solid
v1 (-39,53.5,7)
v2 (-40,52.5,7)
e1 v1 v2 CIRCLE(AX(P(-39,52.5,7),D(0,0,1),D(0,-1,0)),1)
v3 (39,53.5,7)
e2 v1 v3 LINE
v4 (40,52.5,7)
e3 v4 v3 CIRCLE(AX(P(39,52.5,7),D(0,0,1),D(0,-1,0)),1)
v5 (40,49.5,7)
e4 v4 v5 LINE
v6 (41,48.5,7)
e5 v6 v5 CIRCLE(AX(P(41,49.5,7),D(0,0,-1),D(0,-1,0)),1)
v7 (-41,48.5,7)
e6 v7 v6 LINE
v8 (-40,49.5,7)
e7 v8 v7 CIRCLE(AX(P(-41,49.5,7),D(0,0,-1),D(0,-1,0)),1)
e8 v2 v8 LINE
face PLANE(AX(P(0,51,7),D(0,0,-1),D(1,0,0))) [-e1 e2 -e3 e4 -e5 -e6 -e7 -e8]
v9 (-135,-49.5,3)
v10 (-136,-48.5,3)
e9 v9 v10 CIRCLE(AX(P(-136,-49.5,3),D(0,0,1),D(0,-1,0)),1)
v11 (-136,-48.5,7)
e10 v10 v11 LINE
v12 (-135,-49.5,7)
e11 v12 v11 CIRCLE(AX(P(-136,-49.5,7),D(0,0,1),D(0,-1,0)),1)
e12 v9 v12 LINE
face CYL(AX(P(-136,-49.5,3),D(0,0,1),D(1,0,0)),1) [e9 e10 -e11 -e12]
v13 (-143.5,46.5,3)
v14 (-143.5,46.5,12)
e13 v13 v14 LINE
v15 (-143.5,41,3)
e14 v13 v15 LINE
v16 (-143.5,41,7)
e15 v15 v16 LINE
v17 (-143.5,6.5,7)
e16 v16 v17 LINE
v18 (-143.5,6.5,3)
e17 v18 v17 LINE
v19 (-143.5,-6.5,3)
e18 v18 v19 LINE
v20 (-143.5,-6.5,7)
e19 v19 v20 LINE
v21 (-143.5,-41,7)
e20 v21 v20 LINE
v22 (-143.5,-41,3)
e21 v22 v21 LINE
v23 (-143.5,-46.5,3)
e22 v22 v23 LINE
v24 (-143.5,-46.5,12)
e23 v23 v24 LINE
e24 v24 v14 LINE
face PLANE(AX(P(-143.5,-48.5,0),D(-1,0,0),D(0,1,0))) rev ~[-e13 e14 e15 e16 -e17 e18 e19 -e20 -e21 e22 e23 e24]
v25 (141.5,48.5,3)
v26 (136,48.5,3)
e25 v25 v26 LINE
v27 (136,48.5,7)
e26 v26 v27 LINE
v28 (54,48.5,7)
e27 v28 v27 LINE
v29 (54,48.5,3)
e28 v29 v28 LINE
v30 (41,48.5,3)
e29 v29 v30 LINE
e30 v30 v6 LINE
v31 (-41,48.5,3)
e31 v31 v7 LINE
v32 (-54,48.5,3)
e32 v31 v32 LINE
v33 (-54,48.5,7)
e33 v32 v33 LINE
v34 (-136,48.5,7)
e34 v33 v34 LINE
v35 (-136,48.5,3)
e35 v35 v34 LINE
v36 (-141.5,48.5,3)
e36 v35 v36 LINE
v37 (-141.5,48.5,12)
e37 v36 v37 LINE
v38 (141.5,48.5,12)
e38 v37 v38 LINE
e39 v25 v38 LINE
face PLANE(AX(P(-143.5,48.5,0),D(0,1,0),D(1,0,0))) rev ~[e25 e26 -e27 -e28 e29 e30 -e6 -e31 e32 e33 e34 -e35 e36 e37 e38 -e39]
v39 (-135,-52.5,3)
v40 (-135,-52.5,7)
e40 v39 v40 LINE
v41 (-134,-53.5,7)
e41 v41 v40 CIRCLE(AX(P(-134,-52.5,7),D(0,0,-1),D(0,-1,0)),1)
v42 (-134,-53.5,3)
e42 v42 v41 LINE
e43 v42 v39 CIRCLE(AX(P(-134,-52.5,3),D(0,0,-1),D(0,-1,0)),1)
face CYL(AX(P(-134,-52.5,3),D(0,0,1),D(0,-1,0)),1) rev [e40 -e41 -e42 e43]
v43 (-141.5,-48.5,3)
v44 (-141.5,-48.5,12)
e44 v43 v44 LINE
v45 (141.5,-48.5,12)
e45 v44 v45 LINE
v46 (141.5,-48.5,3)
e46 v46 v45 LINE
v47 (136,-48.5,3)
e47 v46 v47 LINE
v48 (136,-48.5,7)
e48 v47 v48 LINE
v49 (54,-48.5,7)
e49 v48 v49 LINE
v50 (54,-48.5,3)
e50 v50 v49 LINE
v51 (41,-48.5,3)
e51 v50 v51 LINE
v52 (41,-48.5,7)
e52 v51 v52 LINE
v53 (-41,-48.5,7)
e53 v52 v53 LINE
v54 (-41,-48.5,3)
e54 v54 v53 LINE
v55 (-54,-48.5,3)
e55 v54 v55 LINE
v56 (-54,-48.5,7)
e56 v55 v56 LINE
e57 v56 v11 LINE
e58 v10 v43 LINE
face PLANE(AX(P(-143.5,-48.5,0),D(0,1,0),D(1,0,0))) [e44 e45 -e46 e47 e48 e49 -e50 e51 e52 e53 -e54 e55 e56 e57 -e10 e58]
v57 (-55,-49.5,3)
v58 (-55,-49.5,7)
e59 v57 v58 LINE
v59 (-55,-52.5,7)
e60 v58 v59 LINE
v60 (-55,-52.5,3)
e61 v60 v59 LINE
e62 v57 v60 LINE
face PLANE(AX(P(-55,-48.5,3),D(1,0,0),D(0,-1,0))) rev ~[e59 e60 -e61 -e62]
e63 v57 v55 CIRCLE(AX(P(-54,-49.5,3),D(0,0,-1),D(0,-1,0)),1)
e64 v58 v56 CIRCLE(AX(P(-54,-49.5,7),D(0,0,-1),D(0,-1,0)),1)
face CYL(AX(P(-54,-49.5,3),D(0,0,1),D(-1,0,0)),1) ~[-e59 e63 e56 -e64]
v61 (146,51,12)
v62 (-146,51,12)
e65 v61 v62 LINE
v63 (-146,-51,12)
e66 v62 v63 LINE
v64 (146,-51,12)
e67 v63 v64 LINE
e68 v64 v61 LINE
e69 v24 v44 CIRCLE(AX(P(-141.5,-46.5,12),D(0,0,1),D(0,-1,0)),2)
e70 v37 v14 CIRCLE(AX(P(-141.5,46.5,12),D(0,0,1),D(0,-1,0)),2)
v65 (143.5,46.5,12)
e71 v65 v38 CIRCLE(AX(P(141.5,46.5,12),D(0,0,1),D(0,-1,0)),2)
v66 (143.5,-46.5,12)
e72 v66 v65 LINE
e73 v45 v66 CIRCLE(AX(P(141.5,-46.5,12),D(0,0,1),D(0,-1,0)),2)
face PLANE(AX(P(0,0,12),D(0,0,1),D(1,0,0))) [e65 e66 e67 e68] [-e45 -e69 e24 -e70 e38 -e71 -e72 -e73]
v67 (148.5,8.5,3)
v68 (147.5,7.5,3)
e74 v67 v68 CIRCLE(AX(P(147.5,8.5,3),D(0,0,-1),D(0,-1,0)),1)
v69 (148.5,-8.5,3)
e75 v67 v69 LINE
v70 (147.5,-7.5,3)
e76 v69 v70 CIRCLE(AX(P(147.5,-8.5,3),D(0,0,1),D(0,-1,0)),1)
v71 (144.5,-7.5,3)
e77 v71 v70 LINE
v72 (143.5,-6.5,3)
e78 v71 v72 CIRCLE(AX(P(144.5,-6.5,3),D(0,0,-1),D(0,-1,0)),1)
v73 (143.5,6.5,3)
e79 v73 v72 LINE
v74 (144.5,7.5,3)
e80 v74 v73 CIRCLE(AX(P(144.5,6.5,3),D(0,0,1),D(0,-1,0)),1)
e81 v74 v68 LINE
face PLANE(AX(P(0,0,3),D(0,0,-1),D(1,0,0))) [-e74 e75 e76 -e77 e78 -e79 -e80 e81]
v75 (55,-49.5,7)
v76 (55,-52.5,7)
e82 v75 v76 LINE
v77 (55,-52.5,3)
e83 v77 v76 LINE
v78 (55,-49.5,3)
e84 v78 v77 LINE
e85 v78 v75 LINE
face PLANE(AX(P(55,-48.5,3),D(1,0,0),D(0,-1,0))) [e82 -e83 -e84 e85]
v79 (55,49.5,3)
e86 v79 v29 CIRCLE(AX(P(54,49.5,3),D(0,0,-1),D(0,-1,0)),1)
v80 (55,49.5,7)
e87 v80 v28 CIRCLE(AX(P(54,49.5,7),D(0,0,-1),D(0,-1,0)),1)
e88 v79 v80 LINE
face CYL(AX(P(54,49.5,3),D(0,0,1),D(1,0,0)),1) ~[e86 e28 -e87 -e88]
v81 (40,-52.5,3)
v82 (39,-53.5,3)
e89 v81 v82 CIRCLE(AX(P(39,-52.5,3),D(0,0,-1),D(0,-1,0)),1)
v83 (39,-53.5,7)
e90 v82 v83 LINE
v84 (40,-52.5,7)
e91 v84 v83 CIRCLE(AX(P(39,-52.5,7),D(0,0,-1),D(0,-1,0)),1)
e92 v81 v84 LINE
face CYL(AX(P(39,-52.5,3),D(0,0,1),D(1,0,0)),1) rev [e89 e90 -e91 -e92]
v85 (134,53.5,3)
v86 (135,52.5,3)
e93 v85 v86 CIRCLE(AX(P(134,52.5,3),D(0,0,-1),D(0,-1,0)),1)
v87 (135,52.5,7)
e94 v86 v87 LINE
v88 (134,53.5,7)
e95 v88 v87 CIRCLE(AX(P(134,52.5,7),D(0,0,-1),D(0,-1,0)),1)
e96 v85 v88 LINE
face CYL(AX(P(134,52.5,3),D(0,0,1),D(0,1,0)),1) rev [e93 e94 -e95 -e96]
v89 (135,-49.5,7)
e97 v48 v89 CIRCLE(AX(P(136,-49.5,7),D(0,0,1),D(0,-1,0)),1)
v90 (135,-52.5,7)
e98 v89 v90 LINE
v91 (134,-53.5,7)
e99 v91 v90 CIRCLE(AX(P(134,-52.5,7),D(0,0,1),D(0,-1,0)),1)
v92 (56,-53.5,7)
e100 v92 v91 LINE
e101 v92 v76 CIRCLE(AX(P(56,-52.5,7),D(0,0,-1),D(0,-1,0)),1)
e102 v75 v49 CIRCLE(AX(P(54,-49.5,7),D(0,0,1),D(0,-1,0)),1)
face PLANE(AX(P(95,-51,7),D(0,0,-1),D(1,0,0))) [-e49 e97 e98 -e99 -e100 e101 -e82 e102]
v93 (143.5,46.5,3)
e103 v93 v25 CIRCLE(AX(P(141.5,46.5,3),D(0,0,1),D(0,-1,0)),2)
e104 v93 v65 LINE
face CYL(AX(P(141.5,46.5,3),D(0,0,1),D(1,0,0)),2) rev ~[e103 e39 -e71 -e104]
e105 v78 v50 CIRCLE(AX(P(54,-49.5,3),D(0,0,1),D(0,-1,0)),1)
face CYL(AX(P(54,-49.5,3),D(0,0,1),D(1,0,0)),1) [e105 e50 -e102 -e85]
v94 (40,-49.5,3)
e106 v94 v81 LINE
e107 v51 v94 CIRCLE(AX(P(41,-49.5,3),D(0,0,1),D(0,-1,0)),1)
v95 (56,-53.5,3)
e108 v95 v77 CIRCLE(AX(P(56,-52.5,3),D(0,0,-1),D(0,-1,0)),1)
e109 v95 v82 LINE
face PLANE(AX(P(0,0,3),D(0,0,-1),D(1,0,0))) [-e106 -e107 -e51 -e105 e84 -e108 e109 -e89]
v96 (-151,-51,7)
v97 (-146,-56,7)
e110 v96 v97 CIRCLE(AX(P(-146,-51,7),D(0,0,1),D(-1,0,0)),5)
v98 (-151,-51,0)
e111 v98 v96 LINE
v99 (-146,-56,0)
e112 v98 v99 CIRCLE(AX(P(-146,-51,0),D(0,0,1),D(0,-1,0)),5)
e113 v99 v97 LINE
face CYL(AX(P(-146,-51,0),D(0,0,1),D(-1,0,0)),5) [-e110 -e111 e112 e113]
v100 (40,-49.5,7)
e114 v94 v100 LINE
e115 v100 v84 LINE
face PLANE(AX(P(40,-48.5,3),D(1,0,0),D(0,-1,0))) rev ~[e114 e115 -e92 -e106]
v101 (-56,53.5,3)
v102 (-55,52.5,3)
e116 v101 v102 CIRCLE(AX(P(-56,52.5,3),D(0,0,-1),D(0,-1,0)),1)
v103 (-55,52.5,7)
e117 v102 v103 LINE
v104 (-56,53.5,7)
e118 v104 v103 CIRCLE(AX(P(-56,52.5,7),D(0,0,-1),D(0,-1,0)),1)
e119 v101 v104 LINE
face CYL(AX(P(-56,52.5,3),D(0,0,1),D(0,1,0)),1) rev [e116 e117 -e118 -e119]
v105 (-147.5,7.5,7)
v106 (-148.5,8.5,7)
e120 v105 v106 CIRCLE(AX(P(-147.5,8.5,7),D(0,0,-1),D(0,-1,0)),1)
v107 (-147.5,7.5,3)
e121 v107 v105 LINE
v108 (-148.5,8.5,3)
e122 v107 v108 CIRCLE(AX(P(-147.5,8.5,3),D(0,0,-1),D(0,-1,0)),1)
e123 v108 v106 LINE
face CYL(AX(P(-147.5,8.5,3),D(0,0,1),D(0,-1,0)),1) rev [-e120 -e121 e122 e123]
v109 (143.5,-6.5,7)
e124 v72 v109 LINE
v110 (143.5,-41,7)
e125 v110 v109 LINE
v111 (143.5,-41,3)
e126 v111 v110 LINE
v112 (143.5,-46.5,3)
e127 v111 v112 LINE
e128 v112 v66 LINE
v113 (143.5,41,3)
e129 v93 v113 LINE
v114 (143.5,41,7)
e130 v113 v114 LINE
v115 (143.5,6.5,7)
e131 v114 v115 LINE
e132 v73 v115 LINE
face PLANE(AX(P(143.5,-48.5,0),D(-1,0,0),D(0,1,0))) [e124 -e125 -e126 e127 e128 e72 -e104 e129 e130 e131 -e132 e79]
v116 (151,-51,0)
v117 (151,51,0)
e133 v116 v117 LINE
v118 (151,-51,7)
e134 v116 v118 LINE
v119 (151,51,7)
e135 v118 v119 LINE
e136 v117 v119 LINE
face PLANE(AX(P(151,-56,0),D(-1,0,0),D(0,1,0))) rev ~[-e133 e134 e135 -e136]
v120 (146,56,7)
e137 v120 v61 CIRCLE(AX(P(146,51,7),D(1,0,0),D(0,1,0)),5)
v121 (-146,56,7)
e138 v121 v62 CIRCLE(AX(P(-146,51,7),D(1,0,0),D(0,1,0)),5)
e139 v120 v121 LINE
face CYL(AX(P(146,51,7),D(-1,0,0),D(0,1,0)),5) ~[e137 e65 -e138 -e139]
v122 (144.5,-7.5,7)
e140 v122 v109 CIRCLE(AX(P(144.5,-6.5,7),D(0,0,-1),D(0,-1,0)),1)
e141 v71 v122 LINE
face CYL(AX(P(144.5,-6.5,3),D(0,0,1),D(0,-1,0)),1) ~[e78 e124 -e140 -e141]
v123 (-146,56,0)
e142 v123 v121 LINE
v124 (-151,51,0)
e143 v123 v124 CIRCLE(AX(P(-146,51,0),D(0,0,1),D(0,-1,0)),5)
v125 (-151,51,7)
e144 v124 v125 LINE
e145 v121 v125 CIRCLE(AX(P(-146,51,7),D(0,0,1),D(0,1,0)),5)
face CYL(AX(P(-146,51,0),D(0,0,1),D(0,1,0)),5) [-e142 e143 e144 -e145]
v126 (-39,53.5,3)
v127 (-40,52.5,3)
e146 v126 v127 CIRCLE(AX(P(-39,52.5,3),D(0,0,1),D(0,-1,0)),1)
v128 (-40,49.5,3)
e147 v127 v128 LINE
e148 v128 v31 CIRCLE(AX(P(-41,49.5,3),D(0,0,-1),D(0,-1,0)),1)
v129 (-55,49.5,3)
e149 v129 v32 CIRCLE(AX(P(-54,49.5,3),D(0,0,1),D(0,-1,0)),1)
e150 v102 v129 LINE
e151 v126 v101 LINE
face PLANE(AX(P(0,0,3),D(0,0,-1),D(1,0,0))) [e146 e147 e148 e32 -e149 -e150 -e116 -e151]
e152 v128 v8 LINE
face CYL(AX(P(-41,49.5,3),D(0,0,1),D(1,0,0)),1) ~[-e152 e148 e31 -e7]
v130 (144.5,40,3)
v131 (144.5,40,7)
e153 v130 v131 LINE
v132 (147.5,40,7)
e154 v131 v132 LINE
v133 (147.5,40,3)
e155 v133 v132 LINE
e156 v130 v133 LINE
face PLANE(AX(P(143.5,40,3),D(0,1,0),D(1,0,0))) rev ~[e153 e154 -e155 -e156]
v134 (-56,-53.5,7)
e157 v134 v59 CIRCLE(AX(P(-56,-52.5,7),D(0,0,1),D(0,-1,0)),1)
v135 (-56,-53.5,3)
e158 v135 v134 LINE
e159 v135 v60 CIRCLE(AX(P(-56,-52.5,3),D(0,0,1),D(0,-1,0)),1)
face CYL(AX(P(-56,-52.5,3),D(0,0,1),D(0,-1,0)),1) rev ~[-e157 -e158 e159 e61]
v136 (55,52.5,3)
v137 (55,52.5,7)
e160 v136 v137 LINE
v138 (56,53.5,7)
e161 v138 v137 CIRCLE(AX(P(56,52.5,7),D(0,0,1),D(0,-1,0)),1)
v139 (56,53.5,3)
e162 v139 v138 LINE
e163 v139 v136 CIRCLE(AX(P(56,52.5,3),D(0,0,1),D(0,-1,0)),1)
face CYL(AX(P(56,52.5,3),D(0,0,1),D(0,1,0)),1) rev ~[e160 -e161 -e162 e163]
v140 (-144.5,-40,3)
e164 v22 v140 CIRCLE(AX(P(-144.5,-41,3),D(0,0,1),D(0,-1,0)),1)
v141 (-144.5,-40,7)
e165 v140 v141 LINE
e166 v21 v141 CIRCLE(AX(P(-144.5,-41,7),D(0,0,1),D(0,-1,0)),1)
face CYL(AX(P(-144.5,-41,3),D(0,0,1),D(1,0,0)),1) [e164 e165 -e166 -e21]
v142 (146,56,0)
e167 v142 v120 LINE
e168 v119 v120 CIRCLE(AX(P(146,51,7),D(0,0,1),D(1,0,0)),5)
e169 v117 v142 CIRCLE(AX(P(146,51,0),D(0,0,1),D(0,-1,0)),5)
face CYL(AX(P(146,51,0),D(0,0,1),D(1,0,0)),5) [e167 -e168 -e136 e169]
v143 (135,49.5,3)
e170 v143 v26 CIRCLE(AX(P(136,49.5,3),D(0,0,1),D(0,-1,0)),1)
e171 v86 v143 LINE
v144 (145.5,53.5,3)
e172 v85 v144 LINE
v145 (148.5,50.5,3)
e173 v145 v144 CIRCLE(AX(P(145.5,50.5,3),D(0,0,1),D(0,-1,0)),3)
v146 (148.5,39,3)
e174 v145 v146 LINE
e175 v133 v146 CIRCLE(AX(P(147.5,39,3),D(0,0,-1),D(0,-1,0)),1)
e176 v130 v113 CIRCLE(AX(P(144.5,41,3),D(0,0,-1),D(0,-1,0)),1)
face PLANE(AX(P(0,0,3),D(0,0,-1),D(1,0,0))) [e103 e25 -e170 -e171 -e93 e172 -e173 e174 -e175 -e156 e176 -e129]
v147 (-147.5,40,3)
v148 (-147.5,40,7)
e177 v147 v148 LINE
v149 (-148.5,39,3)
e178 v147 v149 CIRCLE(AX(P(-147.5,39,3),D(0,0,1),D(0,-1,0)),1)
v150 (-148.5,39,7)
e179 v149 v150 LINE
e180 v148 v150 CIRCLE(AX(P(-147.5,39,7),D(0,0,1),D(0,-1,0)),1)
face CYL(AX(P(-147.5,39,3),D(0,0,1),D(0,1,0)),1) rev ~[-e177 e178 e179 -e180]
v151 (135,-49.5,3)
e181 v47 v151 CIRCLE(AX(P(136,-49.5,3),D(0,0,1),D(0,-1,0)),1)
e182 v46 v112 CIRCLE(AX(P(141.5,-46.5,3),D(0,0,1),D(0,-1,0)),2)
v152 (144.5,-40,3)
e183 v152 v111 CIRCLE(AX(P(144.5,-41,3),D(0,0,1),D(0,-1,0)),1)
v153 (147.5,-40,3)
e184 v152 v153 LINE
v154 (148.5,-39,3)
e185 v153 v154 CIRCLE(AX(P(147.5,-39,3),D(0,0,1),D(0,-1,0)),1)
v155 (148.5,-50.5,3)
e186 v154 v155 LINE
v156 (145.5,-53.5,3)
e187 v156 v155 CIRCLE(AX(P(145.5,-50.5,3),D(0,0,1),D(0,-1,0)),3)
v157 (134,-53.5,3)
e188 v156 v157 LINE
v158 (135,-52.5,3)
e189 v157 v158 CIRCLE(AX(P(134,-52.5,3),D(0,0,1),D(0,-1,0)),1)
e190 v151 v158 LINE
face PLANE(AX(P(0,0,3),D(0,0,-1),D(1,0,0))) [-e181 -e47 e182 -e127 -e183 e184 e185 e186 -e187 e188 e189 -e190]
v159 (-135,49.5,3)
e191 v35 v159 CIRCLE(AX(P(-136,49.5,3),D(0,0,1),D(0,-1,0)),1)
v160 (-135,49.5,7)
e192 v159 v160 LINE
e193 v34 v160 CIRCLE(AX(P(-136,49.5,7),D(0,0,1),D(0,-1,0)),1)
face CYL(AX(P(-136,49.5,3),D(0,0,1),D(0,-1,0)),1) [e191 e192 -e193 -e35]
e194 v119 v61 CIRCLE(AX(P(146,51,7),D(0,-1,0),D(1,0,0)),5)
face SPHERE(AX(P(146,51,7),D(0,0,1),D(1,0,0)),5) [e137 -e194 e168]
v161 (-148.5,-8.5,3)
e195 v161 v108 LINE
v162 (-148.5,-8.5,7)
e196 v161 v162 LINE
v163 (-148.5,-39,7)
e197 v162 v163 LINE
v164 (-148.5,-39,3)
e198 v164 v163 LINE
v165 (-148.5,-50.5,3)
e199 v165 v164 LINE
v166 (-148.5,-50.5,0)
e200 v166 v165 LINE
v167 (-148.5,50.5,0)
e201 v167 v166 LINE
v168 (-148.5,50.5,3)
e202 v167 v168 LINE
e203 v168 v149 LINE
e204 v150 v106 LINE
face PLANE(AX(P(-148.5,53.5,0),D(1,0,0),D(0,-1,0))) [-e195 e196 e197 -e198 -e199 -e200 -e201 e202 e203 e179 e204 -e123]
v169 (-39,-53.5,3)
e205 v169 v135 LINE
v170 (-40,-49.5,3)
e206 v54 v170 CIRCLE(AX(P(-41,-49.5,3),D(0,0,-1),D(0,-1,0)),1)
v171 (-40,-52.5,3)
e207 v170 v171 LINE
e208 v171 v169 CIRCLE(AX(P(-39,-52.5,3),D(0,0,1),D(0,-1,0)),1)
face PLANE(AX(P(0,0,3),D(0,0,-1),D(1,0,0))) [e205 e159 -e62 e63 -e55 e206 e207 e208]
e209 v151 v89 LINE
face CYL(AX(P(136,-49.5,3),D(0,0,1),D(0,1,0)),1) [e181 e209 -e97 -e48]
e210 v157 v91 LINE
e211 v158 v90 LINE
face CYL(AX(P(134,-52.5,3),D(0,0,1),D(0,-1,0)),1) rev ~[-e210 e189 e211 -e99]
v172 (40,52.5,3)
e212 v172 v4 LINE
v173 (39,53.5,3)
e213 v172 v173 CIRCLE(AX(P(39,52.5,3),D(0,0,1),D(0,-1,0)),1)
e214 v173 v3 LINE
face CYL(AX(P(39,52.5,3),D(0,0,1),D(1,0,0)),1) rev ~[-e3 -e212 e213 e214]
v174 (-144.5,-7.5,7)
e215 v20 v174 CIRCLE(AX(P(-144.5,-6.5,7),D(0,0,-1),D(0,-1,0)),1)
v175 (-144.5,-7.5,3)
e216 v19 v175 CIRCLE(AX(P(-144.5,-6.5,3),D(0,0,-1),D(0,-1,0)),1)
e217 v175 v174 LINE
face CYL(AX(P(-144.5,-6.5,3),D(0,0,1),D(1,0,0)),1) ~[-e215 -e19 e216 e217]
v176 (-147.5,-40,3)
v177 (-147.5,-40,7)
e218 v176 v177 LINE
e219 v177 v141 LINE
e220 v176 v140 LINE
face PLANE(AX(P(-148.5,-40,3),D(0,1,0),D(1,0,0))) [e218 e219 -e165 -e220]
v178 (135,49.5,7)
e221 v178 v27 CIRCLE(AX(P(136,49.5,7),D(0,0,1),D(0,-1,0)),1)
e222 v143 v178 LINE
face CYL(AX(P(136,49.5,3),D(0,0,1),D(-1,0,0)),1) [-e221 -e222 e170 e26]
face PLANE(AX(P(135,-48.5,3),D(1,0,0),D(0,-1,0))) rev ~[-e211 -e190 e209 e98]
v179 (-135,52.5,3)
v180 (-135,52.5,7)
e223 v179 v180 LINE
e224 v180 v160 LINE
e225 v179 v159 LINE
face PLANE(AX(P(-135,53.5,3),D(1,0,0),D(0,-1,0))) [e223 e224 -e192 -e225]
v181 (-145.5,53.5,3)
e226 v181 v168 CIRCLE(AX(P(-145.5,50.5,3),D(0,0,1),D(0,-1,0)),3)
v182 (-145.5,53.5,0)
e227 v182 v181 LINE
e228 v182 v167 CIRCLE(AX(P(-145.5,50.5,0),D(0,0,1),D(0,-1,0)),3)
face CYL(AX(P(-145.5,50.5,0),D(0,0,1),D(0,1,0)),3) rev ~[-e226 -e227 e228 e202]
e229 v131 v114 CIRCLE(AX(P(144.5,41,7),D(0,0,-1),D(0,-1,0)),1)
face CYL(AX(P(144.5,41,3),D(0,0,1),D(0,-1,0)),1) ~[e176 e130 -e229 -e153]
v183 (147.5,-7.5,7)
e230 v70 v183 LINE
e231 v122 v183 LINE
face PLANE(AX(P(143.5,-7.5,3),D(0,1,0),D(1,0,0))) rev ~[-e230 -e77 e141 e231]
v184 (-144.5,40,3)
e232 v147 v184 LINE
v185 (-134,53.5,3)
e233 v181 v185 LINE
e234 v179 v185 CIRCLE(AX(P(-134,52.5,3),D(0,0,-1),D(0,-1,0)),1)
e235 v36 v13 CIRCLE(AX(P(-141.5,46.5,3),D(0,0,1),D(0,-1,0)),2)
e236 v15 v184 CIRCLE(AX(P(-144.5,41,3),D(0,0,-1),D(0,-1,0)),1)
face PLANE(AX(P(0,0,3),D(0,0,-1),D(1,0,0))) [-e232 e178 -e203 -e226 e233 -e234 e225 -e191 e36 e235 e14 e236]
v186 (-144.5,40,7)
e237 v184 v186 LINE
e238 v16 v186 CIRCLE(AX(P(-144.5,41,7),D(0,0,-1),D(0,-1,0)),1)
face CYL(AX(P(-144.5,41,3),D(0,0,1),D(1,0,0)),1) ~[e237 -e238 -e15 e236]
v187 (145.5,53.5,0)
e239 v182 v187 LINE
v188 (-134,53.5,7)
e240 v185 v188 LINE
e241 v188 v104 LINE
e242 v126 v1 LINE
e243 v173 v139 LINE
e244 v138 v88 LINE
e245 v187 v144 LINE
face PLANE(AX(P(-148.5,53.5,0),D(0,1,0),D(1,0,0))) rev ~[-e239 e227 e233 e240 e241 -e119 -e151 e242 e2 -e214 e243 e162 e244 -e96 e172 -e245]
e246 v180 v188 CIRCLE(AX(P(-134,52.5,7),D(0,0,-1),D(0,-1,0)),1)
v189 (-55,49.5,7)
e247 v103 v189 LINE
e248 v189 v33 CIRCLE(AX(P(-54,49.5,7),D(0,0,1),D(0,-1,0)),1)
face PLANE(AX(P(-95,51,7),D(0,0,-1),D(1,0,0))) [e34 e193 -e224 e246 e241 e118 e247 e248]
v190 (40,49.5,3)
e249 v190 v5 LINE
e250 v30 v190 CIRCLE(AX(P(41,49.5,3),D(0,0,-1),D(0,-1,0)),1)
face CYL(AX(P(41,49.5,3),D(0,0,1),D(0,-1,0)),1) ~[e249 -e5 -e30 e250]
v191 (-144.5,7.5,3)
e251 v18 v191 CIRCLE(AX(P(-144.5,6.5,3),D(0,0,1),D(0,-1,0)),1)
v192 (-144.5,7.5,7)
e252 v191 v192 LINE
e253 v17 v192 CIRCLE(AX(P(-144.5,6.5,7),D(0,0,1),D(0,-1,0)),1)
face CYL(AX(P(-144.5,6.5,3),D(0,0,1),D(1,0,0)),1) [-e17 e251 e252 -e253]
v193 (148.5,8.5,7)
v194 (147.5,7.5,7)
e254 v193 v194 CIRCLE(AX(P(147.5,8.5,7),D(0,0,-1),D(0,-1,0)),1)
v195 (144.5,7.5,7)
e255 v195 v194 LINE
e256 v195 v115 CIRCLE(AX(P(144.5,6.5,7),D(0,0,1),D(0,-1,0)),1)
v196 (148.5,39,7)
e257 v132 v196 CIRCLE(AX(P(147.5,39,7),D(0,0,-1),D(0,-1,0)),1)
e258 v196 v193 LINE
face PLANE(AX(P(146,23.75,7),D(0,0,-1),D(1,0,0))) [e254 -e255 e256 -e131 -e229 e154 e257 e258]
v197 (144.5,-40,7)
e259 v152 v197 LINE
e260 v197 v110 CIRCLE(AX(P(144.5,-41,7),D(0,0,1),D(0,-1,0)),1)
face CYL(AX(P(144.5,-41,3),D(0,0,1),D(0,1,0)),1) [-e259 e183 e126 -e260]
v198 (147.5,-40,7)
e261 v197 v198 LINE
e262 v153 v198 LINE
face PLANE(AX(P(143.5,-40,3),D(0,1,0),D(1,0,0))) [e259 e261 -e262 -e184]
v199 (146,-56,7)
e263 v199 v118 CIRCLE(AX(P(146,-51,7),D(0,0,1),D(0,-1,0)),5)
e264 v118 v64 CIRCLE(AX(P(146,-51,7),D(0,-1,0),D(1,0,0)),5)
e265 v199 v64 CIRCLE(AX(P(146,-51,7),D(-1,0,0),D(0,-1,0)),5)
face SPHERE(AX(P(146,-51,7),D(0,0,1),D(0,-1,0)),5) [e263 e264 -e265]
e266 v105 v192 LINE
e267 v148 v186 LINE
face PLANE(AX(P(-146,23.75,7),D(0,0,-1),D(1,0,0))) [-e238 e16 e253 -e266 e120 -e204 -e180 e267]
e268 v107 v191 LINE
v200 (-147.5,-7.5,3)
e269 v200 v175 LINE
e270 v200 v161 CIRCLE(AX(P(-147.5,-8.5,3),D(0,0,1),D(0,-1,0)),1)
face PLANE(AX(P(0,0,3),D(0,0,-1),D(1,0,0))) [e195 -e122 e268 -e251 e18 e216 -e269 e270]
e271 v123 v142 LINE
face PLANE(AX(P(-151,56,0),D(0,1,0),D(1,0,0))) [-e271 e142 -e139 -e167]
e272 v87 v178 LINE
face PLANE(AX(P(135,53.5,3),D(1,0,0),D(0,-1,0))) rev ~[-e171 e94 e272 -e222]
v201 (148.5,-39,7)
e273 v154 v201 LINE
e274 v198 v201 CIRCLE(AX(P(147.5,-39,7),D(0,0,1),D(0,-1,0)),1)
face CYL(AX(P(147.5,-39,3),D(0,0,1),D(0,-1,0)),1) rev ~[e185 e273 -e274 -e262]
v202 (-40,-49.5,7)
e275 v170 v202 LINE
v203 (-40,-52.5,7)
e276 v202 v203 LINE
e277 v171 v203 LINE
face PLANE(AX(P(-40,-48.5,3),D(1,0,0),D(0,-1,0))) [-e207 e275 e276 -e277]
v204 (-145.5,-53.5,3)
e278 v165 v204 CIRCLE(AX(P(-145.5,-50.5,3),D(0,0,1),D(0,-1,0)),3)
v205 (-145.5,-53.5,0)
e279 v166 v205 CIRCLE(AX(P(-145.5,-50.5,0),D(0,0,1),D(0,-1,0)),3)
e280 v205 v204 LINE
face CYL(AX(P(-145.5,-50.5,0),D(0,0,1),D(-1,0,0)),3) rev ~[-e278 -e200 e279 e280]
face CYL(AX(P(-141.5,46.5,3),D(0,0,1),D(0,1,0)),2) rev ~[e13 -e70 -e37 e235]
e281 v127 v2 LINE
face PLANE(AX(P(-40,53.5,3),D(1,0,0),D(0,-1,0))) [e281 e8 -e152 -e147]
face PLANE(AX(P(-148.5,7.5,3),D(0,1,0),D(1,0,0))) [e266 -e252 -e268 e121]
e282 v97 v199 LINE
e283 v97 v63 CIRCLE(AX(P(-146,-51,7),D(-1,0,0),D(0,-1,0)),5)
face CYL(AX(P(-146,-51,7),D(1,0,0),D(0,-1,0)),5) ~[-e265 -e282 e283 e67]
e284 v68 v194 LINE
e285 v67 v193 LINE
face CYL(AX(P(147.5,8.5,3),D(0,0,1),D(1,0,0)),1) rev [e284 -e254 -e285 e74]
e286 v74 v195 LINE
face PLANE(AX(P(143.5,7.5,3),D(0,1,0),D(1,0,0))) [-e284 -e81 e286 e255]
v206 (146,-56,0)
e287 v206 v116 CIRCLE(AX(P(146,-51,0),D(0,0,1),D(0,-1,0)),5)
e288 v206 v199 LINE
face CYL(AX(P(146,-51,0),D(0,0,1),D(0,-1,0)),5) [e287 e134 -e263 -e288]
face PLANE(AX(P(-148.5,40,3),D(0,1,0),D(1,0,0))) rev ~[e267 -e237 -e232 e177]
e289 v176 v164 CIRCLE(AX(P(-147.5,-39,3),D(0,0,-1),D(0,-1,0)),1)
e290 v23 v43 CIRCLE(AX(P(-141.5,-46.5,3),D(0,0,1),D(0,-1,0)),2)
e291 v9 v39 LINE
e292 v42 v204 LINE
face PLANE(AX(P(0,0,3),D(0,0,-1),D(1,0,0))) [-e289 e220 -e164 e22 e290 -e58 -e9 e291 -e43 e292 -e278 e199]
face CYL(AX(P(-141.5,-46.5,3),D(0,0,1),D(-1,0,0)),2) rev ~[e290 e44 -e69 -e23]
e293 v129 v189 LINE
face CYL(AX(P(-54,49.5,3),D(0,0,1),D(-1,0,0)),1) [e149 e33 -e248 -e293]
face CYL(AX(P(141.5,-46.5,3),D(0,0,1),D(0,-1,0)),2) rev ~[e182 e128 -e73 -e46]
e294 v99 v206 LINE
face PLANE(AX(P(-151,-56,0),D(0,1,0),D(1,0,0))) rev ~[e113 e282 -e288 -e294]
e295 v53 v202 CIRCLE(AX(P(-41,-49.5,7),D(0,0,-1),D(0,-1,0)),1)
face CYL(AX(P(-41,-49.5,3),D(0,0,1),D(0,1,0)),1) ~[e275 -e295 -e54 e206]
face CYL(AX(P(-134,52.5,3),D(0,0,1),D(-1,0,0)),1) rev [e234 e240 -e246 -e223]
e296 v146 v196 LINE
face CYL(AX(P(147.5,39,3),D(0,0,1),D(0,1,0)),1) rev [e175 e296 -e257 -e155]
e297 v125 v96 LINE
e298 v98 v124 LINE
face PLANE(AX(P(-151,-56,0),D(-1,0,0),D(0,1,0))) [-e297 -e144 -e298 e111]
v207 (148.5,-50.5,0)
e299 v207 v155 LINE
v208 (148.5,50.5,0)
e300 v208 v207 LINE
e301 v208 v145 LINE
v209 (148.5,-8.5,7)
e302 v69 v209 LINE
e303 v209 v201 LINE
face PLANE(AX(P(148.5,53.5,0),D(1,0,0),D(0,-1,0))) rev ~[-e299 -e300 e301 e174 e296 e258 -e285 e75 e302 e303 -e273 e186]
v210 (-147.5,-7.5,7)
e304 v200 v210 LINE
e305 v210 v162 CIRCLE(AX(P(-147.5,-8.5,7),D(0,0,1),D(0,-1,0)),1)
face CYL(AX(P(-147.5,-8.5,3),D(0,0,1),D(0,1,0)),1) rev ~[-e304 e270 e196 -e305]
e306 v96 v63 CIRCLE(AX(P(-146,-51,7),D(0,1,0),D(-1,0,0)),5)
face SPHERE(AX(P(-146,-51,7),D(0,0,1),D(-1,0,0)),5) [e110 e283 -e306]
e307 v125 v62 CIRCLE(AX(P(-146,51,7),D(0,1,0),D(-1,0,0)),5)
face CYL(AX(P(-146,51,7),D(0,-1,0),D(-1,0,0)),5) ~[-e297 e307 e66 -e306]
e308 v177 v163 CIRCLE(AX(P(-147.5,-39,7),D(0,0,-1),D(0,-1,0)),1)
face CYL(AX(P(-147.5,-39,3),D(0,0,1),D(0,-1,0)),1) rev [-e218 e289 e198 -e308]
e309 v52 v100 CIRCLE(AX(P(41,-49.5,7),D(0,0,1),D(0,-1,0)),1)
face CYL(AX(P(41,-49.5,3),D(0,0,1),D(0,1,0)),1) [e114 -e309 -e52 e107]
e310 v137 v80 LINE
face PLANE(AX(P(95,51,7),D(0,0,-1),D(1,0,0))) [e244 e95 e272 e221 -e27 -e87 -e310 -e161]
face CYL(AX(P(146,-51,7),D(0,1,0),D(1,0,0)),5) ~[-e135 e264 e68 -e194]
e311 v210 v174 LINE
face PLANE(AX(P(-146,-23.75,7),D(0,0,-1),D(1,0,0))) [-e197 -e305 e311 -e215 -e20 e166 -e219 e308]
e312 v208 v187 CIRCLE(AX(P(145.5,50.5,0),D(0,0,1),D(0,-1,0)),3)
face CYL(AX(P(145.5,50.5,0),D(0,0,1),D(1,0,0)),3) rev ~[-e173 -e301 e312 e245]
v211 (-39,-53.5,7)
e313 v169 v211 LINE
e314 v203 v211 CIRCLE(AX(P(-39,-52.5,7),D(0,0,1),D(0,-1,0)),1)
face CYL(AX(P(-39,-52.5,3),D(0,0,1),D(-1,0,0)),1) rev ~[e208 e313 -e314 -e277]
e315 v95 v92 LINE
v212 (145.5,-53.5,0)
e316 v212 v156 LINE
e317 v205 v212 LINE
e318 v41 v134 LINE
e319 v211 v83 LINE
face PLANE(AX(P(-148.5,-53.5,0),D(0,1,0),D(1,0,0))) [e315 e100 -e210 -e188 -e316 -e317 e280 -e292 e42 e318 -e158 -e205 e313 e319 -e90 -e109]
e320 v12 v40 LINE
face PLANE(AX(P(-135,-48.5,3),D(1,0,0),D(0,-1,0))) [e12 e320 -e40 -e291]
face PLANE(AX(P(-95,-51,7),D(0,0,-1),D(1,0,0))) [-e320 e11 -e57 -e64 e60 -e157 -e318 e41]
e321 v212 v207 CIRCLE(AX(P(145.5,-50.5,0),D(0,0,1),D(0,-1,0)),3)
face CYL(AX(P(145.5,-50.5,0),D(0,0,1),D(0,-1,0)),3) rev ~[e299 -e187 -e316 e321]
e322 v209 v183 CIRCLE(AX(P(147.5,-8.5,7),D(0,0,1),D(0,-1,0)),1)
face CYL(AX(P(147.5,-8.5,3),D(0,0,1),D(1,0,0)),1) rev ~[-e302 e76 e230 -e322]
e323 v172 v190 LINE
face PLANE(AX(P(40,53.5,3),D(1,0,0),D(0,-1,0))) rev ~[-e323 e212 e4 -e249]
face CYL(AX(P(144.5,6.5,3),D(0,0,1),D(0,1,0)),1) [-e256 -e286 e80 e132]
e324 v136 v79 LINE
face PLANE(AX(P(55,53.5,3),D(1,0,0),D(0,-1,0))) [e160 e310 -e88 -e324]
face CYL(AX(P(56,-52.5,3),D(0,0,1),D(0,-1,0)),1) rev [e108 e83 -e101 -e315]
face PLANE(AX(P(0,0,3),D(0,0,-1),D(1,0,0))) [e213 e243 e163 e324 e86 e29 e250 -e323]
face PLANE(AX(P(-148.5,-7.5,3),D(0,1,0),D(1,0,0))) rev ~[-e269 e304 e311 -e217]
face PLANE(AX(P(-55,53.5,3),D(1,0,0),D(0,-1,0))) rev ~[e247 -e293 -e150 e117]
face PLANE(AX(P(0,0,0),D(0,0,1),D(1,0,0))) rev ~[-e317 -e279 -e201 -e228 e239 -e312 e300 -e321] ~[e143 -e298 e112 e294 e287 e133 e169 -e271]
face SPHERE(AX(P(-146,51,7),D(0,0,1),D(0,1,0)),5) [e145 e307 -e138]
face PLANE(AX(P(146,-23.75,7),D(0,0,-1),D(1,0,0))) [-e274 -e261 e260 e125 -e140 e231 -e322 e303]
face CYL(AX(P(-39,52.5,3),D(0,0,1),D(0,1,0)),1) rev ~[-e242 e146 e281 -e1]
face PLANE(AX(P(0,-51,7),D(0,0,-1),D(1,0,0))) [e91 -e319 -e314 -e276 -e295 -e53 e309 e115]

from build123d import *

# Parameters (mm, degrees)
SKETCH_W        = 302
SKETCH_H        = 112
SKETCH_W_2      = 287
SKETCH_H_2      = 97
PAD_DEPTH       = 12
FILLET_R        = 5
FILLET001_R     = 5
FILLET002_R     = 5
FILLET003_R     = 5
FILLET004_R     = 5
SKETCH001_W     = 297
SKETCH001_H     = 107
POCKET_DEPTH    = 3
FILLET005_R     = 3
FILLET006_R     = 2
FILLET007_R     = 3
FILLET008_R     = 2
FILLET009_R     = 2
FILLET010_R     = 3
FILLET011_R     = 2
FILLET012_R     = 3
SKETCH002_W     = 80
SKETCH002_H     = 5
POCKET001_DEPTH = 4
SKETCH003_W     = 5
SKETCH003_H     = 32.5
POCKET002_DEPTH = 4
FILLET013_R     = 1
FILLET014_R     = 1
FILLET015_R     = 1
FILLET016_R     = 1
FILLET017_R     = 1
FILLET018_R     = 1
FILLET019_R     = 1
FILLET020_R     = 1
FILLET021_R     = 1
FILLET022_R     = 1
FILLET023_R     = 1
FILLET024_R     = 1
FILLET025_R     = 1
FILLET026_R     = 1
FILLET027_R     = 1
FILLET028_R     = 1
FILLET029_R     = 1
FILLET030_R     = 1
FILLET031_R     = 1
FILLET032_R     = 1
FILLET033_R     = 1
FILLET034_R     = 1
FILLET035_R     = 1
FILLET036_R     = 1
FILLET037_R     = 1
FILLET038_R     = 1
FILLET039_R     = 1
FILLET040_R     = 1
FILLET041_R     = 1
FILLET042_R     = 1
FILLET043_R     = 1
FILLET044_R     = 1
FILLET045_R     = 1
FILLET046_R     = 1
FILLET047_R     = 1
FILLET048_R     = 1
FILLET049_R     = 1
FILLET050_R     = 1
FILLET051_R     = 1
FILLET052_R     = 1


with BuildPart() as part:
    # Sketch → Pad (new body)
    with BuildSketch(Plane.XY):
        Rectangle(SKETCH_W, SKETCH_H)
        Rectangle(SKETCH_W_2, SKETCH_H_2, mode=Mode.SUBTRACT)
    extrude(amount=PAD_DEPTH)

    # Fillet
    fillet_edges = [part.edges().sort_by_distance(p)[0] for p in [
        (151, -56, 6),
    ]]
    fillet(fillet_edges, radius=FILLET_R)

    # Fillet001
    fillet001_edges = [part.edges().sort_by_distance(p)[0] for p in [
        (151, 56, 6),
    ]]
    fillet(fillet001_edges, radius=FILLET001_R)

    # Fillet002
    fillet002_edges = [part.edges().sort_by_distance(p)[0] for p in [
        (-151, 56, 6),
    ]]
    fillet(fillet002_edges, radius=FILLET002_R)

    # Fillet003
    fillet003_edges = [part.edges().sort_by_distance(p)[0] for p in [
        (-151, -56, 6),
    ]]
    fillet(fillet003_edges, radius=FILLET003_R)

    # Fillet004
    fillet004_edges = [part.edges().sort_by_distance(p)[0] for p in [
        (149.535534, -54.535534, 12),
    ]]
    fillet(fillet004_edges, radius=FILLET004_R)

    # Sketch001 (on Face4 of Fillet004) → Pocket (cut)
    with BuildSketch(Plane(origin=(0, 0, 0), x_dir=(1, 0, 0), z_dir=(0, 0, -1))):
        Rectangle(SKETCH001_W, SKETCH001_H)
    extrude(amount=-POCKET_DEPTH, mode=Mode.SUBTRACT)

    # Fillet005
    fillet005_edges = [part.edges().sort_by_distance(p)[0] for p in [
        (148.5, -53.5, 1.5),
    ]]
    fillet(fillet005_edges, radius=FILLET005_R)

    # Fillet006
    fillet006_edges = [part.edges().sort_by_distance(p)[0] for p in [
        (143.5, -48.5, 7.5),
    ]]
    fillet(fillet006_edges, radius=FILLET006_R)

    # Fillet007
    fillet007_edges = [part.edges().sort_by_distance(p)[0] for p in [
        (148.5, 53.5, 1.5),
    ]]
    fillet(fillet007_edges, radius=FILLET007_R)

    # Fillet008
    fillet008_edges = [part.edges().sort_by_distance(p)[0] for p in [
        (143.5, 48.5, 7.5),
    ]]
    fillet(fillet008_edges, radius=FILLET008_R)

    # Fillet009
    fillet009_edges = [part.edges().sort_by_distance(p)[0] for p in [
        (-143.5, 48.5, 7.5),
    ]]
    fillet(fillet009_edges, radius=FILLET009_R)

    # Fillet010
    fillet010_edges = [part.edges().sort_by_distance(p)[0] for p in [
        (-148.5, 53.5, 1.5),
    ]]
    fillet(fillet010_edges, radius=FILLET010_R)

    # Fillet011
    fillet011_edges = [part.edges().sort_by_distance(p)[0] for p in [
        (-143.5, -48.5, 7.5),
    ]]
    fillet(fillet011_edges, radius=FILLET011_R)

    # Fillet012
    fillet012_edges = [part.edges().sort_by_distance(p)[0] for p in [
        (-148.5, -53.5, 1.5),
    ]]
    fillet(fillet012_edges, radius=FILLET012_R)

    # Sketch002 (on Face1 of Fillet012) → Pocket001 (cut)
    with BuildSketch(Plane(origin=(0, 0, 3), x_dir=(1, 0, 0), z_dir=(0, 0, -1))):
        with Locations((-95, 51)):
            Rectangle(SKETCH002_W, SKETCH002_H)
        with Locations((0, 51)):
            Rectangle(SKETCH002_W, SKETCH002_H)
        with Locations((95, 51)):
            Rectangle(SKETCH002_W, SKETCH002_H)
        with Locations((95, -51)):
            Rectangle(SKETCH002_W, SKETCH002_H)
        with Locations((0, -51)):
            Rectangle(SKETCH002_W, SKETCH002_H)
        with Locations((-95, -51)):
            Rectangle(SKETCH002_W, SKETCH002_H)
    extrude(amount=-POCKET001_DEPTH, mode=Mode.SUBTRACT)

    # Sketch003 (on Face1 of Pocket001) → Pocket002 (cut)
    with BuildSketch(Plane(origin=(0, 0, 3), x_dir=(1, 0, 0), z_dir=(0, 0, -1))):
        with Locations((-146, 23.75)):
            Rectangle(SKETCH003_W, SKETCH003_H)
        with Locations((-146, -23.75)):
            Rectangle(SKETCH003_W, SKETCH003_H)
        with Locations((146, 23.75)):
            Rectangle(SKETCH003_W, SKETCH003_H)
        with Locations((146, -23.75)):
            Rectangle(SKETCH003_W, SKETCH003_H)
    extrude(amount=-POCKET002_DEPTH, mode=Mode.SUBTRACT)

    # Fillet013
    fillet013_edges = [part.edges().sort_by_distance(p)[0] for p in [
        (-143.5, -40, 5),
    ]]
    fillet(fillet013_edges, radius=FILLET013_R)

    # Fillet014
    fillet014_edges = [part.edges().sort_by_distance(p)[0] for p in [
        (-135, -48.5, 5),
    ]]
    fillet(fillet014_edges, radius=FILLET014_R)

    # Fillet015
    fillet015_edges = [part.edges().sort_by_distance(p)[0] for p in [
        (-135, -53.5, 5),
    ]]
    fillet(fillet015_edges, radius=FILLET015_R)

    # Fillet016
    fillet016_edges = [part.edges().sort_by_distance(p)[0] for p in [
        (-148.5, -40, 5),
    ]]
    fillet(fillet016_edges, radius=FILLET016_R)

    # Fillet017
    fillet017_edges = [part.edges().sort_by_distance(p)[0] for p in [
        (-148.5, 7.5, 5),
    ]]
    fillet(fillet017_edges, radius=FILLET017_R)

    # Fillet018
    fillet018_edges = [part.edges().sort_by_distance(p)[0] for p in [
        (-143.5, 7.5, 5),
    ]]
    fillet(fillet018_edges, radius=FILLET018_R)

    # Fillet019
    fillet019_edges = [part.edges().sort_by_distance(p)[0] for p in [
        (-148.5, -7.5, 5),
    ]]
    fillet(fillet019_edges, radius=FILLET019_R)

    # Fillet020
    fillet020_edges = [part.edges().sort_by_distance(p)[0] for p in [
        (-143.5, -7.5, 5),
    ]]
    fillet(fillet020_edges, radius=FILLET020_R)

    # Fillet021
    fillet021_edges = [part.edges().sort_by_distance(p)[0] for p in [
        (-148.5, 40, 5),
    ]]
    fillet(fillet021_edges, radius=FILLET021_R)

    # Fillet022
    fillet022_edges = [part.edges().sort_by_distance(p)[0] for p in [
        (-143.5, 40, 5),
    ]]
    fillet(fillet022_edges, radius=FILLET022_R)

    # Fillet023
    fillet023_edges = [part.edges().sort_by_distance(p)[0] for p in [
        (-135, 53.5, 5),
    ]]
    fillet(fillet023_edges, radius=FILLET023_R)

    # Fillet024
    fillet024_edges = [part.edges().sort_by_distance(p)[0] for p in [
        (-135, 48.5, 5),
    ]]
    fillet(fillet024_edges, radius=FILLET024_R)

    # Fillet025
    fillet025_edges = [part.edges().sort_by_distance(p)[0] for p in [
        (-40, 48.5, 5),
    ]]
    fillet(fillet025_edges, radius=FILLET025_R)

    # Fillet026
    fillet026_edges = [part.edges().sort_by_distance(p)[0] for p in [
        (-40, 53.5, 5),
    ]]
    fillet(fillet026_edges, radius=FILLET026_R)

    # Fillet027
    fillet027_edges = [part.edges().sort_by_distance(p)[0] for p in [
        (-55, 48.5, 5),
    ]]
    fillet(fillet027_edges, radius=FILLET027_R)

    # Fillet028
    fillet028_edges = [part.edges().sort_by_distance(p)[0] for p in [
        (-55, 53.5, 5),
    ]]
    fillet(fillet028_edges, radius=FILLET028_R)

    # Fillet029
    fillet029_edges = [part.edges().sort_by_distance(p)[0] for p in [
        (40, 53.5, 5),
    ]]
    fillet(fillet029_edges, radius=FILLET029_R)

    # Fillet030
    fillet030_edges = [part.edges().sort_by_distance(p)[0] for p in [
        (40, 48.5, 5),
    ]]
    fillet(fillet030_edges, radius=FILLET030_R)

    # Fillet031
    fillet031_edges = [part.edges().sort_by_distance(p)[0] for p in [
        (55, 48.5, 5),
    ]]
    fillet(fillet031_edges, radius=FILLET031_R)

    # Fillet032
    fillet032_edges = [part.edges().sort_by_distance(p)[0] for p in [
        (55, 53.5, 5),
    ]]
    fillet(fillet032_edges, radius=FILLET032_R)

    # Fillet033
    fillet033_edges = [part.edges().sort_by_distance(p)[0] for p in [
        (143.5, 40, 5),
    ]]
    fillet(fillet033_edges, radius=FILLET033_R)

    # Fillet034
    fillet034_edges = [part.edges().sort_by_distance(p)[0] for p in [
        (135, 48.5, 5),
    ]]
    fillet(fillet034_edges, radius=FILLET034_R)

    # Fillet035
    fillet035_edges = [part.edges().sort_by_distance(p)[0] for p in [
        (135, 53.5, 5),
    ]]
    fillet(fillet035_edges, radius=FILLET035_R)

    # Fillet036
    fillet036_edges = [part.edges().sort_by_distance(p)[0] for p in [
        (148.5, 40, 5),
    ]]
    fillet(fillet036_edges, radius=FILLET036_R)

    # Fillet037
    fillet037_edges = [part.edges().sort_by_distance(p)[0] for p in [
        (143.5, -7.5, 5),
    ]]
    fillet(fillet037_edges, radius=FILLET037_R)

    # Fillet038
    fillet038_edges = [part.edges().sort_by_distance(p)[0] for p in [
        (148.5, -7.5, 5),
    ]]
    fillet(fillet038_edges, radius=FILLET038_R)

    # Fillet039
    fillet039_edges = [part.edges().sort_by_distance(p)[0] for p in [
        (143.5, -40, 5),
    ]]
    fillet(fillet039_edges, radius=FILLET039_R)

    # Fillet040
    fillet040_edges = [part.edges().sort_by_distance(p)[0] for p in [
        (143.5, 7.5, 5),
    ]]
    fillet(fillet040_edges, radius=FILLET040_R)

    # Fillet041
    fillet041_edges = [part.edges().sort_by_distance(p)[0] for p in [
        (148.5, 7.5, 5),
    ]]
    fillet(fillet041_edges, radius=FILLET041_R)

    # Fillet042
    fillet042_edges = [part.edges().sort_by_distance(p)[0] for p in [
        (148.5, -40, 5),
    ]]
    fillet(fillet042_edges, radius=FILLET042_R)

    # Fillet043
    fillet043_edges = [part.edges().sort_by_distance(p)[0] for p in [
        (135, -48.5, 5),
    ]]
    fillet(fillet043_edges, radius=FILLET043_R)

    # Fillet044
    fillet044_edges = [part.edges().sort_by_distance(p)[0] for p in [
        (135, -53.5, 5),
    ]]
    fillet(fillet044_edges, radius=FILLET044_R)

    # Fillet045
    fillet045_edges = [part.edges().sort_by_distance(p)[0] for p in [
        (40, -53.5, 5),
    ]]
    fillet(fillet045_edges, radius=FILLET045_R)

    # Fillet046
    fillet046_edges = [part.edges().sort_by_distance(p)[0] for p in [
        (40, -48.5, 5),
    ]]
    fillet(fillet046_edges, radius=FILLET046_R)

    # Fillet047
    fillet047_edges = [part.edges().sort_by_distance(p)[0] for p in [
        (55, -48.5, 5),
    ]]
    fillet(fillet047_edges, radius=FILLET047_R)

    # Fillet048
    fillet048_edges = [part.edges().sort_by_distance(p)[0] for p in [
        (55, -53.5, 5),
    ]]
    fillet(fillet048_edges, radius=FILLET048_R)

    # Fillet049
    fillet049_edges = [part.edges().sort_by_distance(p)[0] for p in [
        (-40, -53.5, 5),
    ]]
    fillet(fillet049_edges, radius=FILLET049_R)

    # Fillet050
    fillet050_edges = [part.edges().sort_by_distance(p)[0] for p in [
        (-40, -48.5, 5),
    ]]
    fillet(fillet050_edges, radius=FILLET050_R)

    # Fillet051
    fillet051_edges = [part.edges().sort_by_distance(p)[0] for p in [
        (-55, -48.5, 5),
    ]]
    fillet(fillet051_edges, radius=FILLET051_R)

    # Fillet052
    fillet052_edges = [part.edges().sort_by_distance(p)[0] for p in [
        (-55, -53.5, 5),
    ]]
    fillet(fillet052_edges, radius=FILLET052_R)


solid = part.part
